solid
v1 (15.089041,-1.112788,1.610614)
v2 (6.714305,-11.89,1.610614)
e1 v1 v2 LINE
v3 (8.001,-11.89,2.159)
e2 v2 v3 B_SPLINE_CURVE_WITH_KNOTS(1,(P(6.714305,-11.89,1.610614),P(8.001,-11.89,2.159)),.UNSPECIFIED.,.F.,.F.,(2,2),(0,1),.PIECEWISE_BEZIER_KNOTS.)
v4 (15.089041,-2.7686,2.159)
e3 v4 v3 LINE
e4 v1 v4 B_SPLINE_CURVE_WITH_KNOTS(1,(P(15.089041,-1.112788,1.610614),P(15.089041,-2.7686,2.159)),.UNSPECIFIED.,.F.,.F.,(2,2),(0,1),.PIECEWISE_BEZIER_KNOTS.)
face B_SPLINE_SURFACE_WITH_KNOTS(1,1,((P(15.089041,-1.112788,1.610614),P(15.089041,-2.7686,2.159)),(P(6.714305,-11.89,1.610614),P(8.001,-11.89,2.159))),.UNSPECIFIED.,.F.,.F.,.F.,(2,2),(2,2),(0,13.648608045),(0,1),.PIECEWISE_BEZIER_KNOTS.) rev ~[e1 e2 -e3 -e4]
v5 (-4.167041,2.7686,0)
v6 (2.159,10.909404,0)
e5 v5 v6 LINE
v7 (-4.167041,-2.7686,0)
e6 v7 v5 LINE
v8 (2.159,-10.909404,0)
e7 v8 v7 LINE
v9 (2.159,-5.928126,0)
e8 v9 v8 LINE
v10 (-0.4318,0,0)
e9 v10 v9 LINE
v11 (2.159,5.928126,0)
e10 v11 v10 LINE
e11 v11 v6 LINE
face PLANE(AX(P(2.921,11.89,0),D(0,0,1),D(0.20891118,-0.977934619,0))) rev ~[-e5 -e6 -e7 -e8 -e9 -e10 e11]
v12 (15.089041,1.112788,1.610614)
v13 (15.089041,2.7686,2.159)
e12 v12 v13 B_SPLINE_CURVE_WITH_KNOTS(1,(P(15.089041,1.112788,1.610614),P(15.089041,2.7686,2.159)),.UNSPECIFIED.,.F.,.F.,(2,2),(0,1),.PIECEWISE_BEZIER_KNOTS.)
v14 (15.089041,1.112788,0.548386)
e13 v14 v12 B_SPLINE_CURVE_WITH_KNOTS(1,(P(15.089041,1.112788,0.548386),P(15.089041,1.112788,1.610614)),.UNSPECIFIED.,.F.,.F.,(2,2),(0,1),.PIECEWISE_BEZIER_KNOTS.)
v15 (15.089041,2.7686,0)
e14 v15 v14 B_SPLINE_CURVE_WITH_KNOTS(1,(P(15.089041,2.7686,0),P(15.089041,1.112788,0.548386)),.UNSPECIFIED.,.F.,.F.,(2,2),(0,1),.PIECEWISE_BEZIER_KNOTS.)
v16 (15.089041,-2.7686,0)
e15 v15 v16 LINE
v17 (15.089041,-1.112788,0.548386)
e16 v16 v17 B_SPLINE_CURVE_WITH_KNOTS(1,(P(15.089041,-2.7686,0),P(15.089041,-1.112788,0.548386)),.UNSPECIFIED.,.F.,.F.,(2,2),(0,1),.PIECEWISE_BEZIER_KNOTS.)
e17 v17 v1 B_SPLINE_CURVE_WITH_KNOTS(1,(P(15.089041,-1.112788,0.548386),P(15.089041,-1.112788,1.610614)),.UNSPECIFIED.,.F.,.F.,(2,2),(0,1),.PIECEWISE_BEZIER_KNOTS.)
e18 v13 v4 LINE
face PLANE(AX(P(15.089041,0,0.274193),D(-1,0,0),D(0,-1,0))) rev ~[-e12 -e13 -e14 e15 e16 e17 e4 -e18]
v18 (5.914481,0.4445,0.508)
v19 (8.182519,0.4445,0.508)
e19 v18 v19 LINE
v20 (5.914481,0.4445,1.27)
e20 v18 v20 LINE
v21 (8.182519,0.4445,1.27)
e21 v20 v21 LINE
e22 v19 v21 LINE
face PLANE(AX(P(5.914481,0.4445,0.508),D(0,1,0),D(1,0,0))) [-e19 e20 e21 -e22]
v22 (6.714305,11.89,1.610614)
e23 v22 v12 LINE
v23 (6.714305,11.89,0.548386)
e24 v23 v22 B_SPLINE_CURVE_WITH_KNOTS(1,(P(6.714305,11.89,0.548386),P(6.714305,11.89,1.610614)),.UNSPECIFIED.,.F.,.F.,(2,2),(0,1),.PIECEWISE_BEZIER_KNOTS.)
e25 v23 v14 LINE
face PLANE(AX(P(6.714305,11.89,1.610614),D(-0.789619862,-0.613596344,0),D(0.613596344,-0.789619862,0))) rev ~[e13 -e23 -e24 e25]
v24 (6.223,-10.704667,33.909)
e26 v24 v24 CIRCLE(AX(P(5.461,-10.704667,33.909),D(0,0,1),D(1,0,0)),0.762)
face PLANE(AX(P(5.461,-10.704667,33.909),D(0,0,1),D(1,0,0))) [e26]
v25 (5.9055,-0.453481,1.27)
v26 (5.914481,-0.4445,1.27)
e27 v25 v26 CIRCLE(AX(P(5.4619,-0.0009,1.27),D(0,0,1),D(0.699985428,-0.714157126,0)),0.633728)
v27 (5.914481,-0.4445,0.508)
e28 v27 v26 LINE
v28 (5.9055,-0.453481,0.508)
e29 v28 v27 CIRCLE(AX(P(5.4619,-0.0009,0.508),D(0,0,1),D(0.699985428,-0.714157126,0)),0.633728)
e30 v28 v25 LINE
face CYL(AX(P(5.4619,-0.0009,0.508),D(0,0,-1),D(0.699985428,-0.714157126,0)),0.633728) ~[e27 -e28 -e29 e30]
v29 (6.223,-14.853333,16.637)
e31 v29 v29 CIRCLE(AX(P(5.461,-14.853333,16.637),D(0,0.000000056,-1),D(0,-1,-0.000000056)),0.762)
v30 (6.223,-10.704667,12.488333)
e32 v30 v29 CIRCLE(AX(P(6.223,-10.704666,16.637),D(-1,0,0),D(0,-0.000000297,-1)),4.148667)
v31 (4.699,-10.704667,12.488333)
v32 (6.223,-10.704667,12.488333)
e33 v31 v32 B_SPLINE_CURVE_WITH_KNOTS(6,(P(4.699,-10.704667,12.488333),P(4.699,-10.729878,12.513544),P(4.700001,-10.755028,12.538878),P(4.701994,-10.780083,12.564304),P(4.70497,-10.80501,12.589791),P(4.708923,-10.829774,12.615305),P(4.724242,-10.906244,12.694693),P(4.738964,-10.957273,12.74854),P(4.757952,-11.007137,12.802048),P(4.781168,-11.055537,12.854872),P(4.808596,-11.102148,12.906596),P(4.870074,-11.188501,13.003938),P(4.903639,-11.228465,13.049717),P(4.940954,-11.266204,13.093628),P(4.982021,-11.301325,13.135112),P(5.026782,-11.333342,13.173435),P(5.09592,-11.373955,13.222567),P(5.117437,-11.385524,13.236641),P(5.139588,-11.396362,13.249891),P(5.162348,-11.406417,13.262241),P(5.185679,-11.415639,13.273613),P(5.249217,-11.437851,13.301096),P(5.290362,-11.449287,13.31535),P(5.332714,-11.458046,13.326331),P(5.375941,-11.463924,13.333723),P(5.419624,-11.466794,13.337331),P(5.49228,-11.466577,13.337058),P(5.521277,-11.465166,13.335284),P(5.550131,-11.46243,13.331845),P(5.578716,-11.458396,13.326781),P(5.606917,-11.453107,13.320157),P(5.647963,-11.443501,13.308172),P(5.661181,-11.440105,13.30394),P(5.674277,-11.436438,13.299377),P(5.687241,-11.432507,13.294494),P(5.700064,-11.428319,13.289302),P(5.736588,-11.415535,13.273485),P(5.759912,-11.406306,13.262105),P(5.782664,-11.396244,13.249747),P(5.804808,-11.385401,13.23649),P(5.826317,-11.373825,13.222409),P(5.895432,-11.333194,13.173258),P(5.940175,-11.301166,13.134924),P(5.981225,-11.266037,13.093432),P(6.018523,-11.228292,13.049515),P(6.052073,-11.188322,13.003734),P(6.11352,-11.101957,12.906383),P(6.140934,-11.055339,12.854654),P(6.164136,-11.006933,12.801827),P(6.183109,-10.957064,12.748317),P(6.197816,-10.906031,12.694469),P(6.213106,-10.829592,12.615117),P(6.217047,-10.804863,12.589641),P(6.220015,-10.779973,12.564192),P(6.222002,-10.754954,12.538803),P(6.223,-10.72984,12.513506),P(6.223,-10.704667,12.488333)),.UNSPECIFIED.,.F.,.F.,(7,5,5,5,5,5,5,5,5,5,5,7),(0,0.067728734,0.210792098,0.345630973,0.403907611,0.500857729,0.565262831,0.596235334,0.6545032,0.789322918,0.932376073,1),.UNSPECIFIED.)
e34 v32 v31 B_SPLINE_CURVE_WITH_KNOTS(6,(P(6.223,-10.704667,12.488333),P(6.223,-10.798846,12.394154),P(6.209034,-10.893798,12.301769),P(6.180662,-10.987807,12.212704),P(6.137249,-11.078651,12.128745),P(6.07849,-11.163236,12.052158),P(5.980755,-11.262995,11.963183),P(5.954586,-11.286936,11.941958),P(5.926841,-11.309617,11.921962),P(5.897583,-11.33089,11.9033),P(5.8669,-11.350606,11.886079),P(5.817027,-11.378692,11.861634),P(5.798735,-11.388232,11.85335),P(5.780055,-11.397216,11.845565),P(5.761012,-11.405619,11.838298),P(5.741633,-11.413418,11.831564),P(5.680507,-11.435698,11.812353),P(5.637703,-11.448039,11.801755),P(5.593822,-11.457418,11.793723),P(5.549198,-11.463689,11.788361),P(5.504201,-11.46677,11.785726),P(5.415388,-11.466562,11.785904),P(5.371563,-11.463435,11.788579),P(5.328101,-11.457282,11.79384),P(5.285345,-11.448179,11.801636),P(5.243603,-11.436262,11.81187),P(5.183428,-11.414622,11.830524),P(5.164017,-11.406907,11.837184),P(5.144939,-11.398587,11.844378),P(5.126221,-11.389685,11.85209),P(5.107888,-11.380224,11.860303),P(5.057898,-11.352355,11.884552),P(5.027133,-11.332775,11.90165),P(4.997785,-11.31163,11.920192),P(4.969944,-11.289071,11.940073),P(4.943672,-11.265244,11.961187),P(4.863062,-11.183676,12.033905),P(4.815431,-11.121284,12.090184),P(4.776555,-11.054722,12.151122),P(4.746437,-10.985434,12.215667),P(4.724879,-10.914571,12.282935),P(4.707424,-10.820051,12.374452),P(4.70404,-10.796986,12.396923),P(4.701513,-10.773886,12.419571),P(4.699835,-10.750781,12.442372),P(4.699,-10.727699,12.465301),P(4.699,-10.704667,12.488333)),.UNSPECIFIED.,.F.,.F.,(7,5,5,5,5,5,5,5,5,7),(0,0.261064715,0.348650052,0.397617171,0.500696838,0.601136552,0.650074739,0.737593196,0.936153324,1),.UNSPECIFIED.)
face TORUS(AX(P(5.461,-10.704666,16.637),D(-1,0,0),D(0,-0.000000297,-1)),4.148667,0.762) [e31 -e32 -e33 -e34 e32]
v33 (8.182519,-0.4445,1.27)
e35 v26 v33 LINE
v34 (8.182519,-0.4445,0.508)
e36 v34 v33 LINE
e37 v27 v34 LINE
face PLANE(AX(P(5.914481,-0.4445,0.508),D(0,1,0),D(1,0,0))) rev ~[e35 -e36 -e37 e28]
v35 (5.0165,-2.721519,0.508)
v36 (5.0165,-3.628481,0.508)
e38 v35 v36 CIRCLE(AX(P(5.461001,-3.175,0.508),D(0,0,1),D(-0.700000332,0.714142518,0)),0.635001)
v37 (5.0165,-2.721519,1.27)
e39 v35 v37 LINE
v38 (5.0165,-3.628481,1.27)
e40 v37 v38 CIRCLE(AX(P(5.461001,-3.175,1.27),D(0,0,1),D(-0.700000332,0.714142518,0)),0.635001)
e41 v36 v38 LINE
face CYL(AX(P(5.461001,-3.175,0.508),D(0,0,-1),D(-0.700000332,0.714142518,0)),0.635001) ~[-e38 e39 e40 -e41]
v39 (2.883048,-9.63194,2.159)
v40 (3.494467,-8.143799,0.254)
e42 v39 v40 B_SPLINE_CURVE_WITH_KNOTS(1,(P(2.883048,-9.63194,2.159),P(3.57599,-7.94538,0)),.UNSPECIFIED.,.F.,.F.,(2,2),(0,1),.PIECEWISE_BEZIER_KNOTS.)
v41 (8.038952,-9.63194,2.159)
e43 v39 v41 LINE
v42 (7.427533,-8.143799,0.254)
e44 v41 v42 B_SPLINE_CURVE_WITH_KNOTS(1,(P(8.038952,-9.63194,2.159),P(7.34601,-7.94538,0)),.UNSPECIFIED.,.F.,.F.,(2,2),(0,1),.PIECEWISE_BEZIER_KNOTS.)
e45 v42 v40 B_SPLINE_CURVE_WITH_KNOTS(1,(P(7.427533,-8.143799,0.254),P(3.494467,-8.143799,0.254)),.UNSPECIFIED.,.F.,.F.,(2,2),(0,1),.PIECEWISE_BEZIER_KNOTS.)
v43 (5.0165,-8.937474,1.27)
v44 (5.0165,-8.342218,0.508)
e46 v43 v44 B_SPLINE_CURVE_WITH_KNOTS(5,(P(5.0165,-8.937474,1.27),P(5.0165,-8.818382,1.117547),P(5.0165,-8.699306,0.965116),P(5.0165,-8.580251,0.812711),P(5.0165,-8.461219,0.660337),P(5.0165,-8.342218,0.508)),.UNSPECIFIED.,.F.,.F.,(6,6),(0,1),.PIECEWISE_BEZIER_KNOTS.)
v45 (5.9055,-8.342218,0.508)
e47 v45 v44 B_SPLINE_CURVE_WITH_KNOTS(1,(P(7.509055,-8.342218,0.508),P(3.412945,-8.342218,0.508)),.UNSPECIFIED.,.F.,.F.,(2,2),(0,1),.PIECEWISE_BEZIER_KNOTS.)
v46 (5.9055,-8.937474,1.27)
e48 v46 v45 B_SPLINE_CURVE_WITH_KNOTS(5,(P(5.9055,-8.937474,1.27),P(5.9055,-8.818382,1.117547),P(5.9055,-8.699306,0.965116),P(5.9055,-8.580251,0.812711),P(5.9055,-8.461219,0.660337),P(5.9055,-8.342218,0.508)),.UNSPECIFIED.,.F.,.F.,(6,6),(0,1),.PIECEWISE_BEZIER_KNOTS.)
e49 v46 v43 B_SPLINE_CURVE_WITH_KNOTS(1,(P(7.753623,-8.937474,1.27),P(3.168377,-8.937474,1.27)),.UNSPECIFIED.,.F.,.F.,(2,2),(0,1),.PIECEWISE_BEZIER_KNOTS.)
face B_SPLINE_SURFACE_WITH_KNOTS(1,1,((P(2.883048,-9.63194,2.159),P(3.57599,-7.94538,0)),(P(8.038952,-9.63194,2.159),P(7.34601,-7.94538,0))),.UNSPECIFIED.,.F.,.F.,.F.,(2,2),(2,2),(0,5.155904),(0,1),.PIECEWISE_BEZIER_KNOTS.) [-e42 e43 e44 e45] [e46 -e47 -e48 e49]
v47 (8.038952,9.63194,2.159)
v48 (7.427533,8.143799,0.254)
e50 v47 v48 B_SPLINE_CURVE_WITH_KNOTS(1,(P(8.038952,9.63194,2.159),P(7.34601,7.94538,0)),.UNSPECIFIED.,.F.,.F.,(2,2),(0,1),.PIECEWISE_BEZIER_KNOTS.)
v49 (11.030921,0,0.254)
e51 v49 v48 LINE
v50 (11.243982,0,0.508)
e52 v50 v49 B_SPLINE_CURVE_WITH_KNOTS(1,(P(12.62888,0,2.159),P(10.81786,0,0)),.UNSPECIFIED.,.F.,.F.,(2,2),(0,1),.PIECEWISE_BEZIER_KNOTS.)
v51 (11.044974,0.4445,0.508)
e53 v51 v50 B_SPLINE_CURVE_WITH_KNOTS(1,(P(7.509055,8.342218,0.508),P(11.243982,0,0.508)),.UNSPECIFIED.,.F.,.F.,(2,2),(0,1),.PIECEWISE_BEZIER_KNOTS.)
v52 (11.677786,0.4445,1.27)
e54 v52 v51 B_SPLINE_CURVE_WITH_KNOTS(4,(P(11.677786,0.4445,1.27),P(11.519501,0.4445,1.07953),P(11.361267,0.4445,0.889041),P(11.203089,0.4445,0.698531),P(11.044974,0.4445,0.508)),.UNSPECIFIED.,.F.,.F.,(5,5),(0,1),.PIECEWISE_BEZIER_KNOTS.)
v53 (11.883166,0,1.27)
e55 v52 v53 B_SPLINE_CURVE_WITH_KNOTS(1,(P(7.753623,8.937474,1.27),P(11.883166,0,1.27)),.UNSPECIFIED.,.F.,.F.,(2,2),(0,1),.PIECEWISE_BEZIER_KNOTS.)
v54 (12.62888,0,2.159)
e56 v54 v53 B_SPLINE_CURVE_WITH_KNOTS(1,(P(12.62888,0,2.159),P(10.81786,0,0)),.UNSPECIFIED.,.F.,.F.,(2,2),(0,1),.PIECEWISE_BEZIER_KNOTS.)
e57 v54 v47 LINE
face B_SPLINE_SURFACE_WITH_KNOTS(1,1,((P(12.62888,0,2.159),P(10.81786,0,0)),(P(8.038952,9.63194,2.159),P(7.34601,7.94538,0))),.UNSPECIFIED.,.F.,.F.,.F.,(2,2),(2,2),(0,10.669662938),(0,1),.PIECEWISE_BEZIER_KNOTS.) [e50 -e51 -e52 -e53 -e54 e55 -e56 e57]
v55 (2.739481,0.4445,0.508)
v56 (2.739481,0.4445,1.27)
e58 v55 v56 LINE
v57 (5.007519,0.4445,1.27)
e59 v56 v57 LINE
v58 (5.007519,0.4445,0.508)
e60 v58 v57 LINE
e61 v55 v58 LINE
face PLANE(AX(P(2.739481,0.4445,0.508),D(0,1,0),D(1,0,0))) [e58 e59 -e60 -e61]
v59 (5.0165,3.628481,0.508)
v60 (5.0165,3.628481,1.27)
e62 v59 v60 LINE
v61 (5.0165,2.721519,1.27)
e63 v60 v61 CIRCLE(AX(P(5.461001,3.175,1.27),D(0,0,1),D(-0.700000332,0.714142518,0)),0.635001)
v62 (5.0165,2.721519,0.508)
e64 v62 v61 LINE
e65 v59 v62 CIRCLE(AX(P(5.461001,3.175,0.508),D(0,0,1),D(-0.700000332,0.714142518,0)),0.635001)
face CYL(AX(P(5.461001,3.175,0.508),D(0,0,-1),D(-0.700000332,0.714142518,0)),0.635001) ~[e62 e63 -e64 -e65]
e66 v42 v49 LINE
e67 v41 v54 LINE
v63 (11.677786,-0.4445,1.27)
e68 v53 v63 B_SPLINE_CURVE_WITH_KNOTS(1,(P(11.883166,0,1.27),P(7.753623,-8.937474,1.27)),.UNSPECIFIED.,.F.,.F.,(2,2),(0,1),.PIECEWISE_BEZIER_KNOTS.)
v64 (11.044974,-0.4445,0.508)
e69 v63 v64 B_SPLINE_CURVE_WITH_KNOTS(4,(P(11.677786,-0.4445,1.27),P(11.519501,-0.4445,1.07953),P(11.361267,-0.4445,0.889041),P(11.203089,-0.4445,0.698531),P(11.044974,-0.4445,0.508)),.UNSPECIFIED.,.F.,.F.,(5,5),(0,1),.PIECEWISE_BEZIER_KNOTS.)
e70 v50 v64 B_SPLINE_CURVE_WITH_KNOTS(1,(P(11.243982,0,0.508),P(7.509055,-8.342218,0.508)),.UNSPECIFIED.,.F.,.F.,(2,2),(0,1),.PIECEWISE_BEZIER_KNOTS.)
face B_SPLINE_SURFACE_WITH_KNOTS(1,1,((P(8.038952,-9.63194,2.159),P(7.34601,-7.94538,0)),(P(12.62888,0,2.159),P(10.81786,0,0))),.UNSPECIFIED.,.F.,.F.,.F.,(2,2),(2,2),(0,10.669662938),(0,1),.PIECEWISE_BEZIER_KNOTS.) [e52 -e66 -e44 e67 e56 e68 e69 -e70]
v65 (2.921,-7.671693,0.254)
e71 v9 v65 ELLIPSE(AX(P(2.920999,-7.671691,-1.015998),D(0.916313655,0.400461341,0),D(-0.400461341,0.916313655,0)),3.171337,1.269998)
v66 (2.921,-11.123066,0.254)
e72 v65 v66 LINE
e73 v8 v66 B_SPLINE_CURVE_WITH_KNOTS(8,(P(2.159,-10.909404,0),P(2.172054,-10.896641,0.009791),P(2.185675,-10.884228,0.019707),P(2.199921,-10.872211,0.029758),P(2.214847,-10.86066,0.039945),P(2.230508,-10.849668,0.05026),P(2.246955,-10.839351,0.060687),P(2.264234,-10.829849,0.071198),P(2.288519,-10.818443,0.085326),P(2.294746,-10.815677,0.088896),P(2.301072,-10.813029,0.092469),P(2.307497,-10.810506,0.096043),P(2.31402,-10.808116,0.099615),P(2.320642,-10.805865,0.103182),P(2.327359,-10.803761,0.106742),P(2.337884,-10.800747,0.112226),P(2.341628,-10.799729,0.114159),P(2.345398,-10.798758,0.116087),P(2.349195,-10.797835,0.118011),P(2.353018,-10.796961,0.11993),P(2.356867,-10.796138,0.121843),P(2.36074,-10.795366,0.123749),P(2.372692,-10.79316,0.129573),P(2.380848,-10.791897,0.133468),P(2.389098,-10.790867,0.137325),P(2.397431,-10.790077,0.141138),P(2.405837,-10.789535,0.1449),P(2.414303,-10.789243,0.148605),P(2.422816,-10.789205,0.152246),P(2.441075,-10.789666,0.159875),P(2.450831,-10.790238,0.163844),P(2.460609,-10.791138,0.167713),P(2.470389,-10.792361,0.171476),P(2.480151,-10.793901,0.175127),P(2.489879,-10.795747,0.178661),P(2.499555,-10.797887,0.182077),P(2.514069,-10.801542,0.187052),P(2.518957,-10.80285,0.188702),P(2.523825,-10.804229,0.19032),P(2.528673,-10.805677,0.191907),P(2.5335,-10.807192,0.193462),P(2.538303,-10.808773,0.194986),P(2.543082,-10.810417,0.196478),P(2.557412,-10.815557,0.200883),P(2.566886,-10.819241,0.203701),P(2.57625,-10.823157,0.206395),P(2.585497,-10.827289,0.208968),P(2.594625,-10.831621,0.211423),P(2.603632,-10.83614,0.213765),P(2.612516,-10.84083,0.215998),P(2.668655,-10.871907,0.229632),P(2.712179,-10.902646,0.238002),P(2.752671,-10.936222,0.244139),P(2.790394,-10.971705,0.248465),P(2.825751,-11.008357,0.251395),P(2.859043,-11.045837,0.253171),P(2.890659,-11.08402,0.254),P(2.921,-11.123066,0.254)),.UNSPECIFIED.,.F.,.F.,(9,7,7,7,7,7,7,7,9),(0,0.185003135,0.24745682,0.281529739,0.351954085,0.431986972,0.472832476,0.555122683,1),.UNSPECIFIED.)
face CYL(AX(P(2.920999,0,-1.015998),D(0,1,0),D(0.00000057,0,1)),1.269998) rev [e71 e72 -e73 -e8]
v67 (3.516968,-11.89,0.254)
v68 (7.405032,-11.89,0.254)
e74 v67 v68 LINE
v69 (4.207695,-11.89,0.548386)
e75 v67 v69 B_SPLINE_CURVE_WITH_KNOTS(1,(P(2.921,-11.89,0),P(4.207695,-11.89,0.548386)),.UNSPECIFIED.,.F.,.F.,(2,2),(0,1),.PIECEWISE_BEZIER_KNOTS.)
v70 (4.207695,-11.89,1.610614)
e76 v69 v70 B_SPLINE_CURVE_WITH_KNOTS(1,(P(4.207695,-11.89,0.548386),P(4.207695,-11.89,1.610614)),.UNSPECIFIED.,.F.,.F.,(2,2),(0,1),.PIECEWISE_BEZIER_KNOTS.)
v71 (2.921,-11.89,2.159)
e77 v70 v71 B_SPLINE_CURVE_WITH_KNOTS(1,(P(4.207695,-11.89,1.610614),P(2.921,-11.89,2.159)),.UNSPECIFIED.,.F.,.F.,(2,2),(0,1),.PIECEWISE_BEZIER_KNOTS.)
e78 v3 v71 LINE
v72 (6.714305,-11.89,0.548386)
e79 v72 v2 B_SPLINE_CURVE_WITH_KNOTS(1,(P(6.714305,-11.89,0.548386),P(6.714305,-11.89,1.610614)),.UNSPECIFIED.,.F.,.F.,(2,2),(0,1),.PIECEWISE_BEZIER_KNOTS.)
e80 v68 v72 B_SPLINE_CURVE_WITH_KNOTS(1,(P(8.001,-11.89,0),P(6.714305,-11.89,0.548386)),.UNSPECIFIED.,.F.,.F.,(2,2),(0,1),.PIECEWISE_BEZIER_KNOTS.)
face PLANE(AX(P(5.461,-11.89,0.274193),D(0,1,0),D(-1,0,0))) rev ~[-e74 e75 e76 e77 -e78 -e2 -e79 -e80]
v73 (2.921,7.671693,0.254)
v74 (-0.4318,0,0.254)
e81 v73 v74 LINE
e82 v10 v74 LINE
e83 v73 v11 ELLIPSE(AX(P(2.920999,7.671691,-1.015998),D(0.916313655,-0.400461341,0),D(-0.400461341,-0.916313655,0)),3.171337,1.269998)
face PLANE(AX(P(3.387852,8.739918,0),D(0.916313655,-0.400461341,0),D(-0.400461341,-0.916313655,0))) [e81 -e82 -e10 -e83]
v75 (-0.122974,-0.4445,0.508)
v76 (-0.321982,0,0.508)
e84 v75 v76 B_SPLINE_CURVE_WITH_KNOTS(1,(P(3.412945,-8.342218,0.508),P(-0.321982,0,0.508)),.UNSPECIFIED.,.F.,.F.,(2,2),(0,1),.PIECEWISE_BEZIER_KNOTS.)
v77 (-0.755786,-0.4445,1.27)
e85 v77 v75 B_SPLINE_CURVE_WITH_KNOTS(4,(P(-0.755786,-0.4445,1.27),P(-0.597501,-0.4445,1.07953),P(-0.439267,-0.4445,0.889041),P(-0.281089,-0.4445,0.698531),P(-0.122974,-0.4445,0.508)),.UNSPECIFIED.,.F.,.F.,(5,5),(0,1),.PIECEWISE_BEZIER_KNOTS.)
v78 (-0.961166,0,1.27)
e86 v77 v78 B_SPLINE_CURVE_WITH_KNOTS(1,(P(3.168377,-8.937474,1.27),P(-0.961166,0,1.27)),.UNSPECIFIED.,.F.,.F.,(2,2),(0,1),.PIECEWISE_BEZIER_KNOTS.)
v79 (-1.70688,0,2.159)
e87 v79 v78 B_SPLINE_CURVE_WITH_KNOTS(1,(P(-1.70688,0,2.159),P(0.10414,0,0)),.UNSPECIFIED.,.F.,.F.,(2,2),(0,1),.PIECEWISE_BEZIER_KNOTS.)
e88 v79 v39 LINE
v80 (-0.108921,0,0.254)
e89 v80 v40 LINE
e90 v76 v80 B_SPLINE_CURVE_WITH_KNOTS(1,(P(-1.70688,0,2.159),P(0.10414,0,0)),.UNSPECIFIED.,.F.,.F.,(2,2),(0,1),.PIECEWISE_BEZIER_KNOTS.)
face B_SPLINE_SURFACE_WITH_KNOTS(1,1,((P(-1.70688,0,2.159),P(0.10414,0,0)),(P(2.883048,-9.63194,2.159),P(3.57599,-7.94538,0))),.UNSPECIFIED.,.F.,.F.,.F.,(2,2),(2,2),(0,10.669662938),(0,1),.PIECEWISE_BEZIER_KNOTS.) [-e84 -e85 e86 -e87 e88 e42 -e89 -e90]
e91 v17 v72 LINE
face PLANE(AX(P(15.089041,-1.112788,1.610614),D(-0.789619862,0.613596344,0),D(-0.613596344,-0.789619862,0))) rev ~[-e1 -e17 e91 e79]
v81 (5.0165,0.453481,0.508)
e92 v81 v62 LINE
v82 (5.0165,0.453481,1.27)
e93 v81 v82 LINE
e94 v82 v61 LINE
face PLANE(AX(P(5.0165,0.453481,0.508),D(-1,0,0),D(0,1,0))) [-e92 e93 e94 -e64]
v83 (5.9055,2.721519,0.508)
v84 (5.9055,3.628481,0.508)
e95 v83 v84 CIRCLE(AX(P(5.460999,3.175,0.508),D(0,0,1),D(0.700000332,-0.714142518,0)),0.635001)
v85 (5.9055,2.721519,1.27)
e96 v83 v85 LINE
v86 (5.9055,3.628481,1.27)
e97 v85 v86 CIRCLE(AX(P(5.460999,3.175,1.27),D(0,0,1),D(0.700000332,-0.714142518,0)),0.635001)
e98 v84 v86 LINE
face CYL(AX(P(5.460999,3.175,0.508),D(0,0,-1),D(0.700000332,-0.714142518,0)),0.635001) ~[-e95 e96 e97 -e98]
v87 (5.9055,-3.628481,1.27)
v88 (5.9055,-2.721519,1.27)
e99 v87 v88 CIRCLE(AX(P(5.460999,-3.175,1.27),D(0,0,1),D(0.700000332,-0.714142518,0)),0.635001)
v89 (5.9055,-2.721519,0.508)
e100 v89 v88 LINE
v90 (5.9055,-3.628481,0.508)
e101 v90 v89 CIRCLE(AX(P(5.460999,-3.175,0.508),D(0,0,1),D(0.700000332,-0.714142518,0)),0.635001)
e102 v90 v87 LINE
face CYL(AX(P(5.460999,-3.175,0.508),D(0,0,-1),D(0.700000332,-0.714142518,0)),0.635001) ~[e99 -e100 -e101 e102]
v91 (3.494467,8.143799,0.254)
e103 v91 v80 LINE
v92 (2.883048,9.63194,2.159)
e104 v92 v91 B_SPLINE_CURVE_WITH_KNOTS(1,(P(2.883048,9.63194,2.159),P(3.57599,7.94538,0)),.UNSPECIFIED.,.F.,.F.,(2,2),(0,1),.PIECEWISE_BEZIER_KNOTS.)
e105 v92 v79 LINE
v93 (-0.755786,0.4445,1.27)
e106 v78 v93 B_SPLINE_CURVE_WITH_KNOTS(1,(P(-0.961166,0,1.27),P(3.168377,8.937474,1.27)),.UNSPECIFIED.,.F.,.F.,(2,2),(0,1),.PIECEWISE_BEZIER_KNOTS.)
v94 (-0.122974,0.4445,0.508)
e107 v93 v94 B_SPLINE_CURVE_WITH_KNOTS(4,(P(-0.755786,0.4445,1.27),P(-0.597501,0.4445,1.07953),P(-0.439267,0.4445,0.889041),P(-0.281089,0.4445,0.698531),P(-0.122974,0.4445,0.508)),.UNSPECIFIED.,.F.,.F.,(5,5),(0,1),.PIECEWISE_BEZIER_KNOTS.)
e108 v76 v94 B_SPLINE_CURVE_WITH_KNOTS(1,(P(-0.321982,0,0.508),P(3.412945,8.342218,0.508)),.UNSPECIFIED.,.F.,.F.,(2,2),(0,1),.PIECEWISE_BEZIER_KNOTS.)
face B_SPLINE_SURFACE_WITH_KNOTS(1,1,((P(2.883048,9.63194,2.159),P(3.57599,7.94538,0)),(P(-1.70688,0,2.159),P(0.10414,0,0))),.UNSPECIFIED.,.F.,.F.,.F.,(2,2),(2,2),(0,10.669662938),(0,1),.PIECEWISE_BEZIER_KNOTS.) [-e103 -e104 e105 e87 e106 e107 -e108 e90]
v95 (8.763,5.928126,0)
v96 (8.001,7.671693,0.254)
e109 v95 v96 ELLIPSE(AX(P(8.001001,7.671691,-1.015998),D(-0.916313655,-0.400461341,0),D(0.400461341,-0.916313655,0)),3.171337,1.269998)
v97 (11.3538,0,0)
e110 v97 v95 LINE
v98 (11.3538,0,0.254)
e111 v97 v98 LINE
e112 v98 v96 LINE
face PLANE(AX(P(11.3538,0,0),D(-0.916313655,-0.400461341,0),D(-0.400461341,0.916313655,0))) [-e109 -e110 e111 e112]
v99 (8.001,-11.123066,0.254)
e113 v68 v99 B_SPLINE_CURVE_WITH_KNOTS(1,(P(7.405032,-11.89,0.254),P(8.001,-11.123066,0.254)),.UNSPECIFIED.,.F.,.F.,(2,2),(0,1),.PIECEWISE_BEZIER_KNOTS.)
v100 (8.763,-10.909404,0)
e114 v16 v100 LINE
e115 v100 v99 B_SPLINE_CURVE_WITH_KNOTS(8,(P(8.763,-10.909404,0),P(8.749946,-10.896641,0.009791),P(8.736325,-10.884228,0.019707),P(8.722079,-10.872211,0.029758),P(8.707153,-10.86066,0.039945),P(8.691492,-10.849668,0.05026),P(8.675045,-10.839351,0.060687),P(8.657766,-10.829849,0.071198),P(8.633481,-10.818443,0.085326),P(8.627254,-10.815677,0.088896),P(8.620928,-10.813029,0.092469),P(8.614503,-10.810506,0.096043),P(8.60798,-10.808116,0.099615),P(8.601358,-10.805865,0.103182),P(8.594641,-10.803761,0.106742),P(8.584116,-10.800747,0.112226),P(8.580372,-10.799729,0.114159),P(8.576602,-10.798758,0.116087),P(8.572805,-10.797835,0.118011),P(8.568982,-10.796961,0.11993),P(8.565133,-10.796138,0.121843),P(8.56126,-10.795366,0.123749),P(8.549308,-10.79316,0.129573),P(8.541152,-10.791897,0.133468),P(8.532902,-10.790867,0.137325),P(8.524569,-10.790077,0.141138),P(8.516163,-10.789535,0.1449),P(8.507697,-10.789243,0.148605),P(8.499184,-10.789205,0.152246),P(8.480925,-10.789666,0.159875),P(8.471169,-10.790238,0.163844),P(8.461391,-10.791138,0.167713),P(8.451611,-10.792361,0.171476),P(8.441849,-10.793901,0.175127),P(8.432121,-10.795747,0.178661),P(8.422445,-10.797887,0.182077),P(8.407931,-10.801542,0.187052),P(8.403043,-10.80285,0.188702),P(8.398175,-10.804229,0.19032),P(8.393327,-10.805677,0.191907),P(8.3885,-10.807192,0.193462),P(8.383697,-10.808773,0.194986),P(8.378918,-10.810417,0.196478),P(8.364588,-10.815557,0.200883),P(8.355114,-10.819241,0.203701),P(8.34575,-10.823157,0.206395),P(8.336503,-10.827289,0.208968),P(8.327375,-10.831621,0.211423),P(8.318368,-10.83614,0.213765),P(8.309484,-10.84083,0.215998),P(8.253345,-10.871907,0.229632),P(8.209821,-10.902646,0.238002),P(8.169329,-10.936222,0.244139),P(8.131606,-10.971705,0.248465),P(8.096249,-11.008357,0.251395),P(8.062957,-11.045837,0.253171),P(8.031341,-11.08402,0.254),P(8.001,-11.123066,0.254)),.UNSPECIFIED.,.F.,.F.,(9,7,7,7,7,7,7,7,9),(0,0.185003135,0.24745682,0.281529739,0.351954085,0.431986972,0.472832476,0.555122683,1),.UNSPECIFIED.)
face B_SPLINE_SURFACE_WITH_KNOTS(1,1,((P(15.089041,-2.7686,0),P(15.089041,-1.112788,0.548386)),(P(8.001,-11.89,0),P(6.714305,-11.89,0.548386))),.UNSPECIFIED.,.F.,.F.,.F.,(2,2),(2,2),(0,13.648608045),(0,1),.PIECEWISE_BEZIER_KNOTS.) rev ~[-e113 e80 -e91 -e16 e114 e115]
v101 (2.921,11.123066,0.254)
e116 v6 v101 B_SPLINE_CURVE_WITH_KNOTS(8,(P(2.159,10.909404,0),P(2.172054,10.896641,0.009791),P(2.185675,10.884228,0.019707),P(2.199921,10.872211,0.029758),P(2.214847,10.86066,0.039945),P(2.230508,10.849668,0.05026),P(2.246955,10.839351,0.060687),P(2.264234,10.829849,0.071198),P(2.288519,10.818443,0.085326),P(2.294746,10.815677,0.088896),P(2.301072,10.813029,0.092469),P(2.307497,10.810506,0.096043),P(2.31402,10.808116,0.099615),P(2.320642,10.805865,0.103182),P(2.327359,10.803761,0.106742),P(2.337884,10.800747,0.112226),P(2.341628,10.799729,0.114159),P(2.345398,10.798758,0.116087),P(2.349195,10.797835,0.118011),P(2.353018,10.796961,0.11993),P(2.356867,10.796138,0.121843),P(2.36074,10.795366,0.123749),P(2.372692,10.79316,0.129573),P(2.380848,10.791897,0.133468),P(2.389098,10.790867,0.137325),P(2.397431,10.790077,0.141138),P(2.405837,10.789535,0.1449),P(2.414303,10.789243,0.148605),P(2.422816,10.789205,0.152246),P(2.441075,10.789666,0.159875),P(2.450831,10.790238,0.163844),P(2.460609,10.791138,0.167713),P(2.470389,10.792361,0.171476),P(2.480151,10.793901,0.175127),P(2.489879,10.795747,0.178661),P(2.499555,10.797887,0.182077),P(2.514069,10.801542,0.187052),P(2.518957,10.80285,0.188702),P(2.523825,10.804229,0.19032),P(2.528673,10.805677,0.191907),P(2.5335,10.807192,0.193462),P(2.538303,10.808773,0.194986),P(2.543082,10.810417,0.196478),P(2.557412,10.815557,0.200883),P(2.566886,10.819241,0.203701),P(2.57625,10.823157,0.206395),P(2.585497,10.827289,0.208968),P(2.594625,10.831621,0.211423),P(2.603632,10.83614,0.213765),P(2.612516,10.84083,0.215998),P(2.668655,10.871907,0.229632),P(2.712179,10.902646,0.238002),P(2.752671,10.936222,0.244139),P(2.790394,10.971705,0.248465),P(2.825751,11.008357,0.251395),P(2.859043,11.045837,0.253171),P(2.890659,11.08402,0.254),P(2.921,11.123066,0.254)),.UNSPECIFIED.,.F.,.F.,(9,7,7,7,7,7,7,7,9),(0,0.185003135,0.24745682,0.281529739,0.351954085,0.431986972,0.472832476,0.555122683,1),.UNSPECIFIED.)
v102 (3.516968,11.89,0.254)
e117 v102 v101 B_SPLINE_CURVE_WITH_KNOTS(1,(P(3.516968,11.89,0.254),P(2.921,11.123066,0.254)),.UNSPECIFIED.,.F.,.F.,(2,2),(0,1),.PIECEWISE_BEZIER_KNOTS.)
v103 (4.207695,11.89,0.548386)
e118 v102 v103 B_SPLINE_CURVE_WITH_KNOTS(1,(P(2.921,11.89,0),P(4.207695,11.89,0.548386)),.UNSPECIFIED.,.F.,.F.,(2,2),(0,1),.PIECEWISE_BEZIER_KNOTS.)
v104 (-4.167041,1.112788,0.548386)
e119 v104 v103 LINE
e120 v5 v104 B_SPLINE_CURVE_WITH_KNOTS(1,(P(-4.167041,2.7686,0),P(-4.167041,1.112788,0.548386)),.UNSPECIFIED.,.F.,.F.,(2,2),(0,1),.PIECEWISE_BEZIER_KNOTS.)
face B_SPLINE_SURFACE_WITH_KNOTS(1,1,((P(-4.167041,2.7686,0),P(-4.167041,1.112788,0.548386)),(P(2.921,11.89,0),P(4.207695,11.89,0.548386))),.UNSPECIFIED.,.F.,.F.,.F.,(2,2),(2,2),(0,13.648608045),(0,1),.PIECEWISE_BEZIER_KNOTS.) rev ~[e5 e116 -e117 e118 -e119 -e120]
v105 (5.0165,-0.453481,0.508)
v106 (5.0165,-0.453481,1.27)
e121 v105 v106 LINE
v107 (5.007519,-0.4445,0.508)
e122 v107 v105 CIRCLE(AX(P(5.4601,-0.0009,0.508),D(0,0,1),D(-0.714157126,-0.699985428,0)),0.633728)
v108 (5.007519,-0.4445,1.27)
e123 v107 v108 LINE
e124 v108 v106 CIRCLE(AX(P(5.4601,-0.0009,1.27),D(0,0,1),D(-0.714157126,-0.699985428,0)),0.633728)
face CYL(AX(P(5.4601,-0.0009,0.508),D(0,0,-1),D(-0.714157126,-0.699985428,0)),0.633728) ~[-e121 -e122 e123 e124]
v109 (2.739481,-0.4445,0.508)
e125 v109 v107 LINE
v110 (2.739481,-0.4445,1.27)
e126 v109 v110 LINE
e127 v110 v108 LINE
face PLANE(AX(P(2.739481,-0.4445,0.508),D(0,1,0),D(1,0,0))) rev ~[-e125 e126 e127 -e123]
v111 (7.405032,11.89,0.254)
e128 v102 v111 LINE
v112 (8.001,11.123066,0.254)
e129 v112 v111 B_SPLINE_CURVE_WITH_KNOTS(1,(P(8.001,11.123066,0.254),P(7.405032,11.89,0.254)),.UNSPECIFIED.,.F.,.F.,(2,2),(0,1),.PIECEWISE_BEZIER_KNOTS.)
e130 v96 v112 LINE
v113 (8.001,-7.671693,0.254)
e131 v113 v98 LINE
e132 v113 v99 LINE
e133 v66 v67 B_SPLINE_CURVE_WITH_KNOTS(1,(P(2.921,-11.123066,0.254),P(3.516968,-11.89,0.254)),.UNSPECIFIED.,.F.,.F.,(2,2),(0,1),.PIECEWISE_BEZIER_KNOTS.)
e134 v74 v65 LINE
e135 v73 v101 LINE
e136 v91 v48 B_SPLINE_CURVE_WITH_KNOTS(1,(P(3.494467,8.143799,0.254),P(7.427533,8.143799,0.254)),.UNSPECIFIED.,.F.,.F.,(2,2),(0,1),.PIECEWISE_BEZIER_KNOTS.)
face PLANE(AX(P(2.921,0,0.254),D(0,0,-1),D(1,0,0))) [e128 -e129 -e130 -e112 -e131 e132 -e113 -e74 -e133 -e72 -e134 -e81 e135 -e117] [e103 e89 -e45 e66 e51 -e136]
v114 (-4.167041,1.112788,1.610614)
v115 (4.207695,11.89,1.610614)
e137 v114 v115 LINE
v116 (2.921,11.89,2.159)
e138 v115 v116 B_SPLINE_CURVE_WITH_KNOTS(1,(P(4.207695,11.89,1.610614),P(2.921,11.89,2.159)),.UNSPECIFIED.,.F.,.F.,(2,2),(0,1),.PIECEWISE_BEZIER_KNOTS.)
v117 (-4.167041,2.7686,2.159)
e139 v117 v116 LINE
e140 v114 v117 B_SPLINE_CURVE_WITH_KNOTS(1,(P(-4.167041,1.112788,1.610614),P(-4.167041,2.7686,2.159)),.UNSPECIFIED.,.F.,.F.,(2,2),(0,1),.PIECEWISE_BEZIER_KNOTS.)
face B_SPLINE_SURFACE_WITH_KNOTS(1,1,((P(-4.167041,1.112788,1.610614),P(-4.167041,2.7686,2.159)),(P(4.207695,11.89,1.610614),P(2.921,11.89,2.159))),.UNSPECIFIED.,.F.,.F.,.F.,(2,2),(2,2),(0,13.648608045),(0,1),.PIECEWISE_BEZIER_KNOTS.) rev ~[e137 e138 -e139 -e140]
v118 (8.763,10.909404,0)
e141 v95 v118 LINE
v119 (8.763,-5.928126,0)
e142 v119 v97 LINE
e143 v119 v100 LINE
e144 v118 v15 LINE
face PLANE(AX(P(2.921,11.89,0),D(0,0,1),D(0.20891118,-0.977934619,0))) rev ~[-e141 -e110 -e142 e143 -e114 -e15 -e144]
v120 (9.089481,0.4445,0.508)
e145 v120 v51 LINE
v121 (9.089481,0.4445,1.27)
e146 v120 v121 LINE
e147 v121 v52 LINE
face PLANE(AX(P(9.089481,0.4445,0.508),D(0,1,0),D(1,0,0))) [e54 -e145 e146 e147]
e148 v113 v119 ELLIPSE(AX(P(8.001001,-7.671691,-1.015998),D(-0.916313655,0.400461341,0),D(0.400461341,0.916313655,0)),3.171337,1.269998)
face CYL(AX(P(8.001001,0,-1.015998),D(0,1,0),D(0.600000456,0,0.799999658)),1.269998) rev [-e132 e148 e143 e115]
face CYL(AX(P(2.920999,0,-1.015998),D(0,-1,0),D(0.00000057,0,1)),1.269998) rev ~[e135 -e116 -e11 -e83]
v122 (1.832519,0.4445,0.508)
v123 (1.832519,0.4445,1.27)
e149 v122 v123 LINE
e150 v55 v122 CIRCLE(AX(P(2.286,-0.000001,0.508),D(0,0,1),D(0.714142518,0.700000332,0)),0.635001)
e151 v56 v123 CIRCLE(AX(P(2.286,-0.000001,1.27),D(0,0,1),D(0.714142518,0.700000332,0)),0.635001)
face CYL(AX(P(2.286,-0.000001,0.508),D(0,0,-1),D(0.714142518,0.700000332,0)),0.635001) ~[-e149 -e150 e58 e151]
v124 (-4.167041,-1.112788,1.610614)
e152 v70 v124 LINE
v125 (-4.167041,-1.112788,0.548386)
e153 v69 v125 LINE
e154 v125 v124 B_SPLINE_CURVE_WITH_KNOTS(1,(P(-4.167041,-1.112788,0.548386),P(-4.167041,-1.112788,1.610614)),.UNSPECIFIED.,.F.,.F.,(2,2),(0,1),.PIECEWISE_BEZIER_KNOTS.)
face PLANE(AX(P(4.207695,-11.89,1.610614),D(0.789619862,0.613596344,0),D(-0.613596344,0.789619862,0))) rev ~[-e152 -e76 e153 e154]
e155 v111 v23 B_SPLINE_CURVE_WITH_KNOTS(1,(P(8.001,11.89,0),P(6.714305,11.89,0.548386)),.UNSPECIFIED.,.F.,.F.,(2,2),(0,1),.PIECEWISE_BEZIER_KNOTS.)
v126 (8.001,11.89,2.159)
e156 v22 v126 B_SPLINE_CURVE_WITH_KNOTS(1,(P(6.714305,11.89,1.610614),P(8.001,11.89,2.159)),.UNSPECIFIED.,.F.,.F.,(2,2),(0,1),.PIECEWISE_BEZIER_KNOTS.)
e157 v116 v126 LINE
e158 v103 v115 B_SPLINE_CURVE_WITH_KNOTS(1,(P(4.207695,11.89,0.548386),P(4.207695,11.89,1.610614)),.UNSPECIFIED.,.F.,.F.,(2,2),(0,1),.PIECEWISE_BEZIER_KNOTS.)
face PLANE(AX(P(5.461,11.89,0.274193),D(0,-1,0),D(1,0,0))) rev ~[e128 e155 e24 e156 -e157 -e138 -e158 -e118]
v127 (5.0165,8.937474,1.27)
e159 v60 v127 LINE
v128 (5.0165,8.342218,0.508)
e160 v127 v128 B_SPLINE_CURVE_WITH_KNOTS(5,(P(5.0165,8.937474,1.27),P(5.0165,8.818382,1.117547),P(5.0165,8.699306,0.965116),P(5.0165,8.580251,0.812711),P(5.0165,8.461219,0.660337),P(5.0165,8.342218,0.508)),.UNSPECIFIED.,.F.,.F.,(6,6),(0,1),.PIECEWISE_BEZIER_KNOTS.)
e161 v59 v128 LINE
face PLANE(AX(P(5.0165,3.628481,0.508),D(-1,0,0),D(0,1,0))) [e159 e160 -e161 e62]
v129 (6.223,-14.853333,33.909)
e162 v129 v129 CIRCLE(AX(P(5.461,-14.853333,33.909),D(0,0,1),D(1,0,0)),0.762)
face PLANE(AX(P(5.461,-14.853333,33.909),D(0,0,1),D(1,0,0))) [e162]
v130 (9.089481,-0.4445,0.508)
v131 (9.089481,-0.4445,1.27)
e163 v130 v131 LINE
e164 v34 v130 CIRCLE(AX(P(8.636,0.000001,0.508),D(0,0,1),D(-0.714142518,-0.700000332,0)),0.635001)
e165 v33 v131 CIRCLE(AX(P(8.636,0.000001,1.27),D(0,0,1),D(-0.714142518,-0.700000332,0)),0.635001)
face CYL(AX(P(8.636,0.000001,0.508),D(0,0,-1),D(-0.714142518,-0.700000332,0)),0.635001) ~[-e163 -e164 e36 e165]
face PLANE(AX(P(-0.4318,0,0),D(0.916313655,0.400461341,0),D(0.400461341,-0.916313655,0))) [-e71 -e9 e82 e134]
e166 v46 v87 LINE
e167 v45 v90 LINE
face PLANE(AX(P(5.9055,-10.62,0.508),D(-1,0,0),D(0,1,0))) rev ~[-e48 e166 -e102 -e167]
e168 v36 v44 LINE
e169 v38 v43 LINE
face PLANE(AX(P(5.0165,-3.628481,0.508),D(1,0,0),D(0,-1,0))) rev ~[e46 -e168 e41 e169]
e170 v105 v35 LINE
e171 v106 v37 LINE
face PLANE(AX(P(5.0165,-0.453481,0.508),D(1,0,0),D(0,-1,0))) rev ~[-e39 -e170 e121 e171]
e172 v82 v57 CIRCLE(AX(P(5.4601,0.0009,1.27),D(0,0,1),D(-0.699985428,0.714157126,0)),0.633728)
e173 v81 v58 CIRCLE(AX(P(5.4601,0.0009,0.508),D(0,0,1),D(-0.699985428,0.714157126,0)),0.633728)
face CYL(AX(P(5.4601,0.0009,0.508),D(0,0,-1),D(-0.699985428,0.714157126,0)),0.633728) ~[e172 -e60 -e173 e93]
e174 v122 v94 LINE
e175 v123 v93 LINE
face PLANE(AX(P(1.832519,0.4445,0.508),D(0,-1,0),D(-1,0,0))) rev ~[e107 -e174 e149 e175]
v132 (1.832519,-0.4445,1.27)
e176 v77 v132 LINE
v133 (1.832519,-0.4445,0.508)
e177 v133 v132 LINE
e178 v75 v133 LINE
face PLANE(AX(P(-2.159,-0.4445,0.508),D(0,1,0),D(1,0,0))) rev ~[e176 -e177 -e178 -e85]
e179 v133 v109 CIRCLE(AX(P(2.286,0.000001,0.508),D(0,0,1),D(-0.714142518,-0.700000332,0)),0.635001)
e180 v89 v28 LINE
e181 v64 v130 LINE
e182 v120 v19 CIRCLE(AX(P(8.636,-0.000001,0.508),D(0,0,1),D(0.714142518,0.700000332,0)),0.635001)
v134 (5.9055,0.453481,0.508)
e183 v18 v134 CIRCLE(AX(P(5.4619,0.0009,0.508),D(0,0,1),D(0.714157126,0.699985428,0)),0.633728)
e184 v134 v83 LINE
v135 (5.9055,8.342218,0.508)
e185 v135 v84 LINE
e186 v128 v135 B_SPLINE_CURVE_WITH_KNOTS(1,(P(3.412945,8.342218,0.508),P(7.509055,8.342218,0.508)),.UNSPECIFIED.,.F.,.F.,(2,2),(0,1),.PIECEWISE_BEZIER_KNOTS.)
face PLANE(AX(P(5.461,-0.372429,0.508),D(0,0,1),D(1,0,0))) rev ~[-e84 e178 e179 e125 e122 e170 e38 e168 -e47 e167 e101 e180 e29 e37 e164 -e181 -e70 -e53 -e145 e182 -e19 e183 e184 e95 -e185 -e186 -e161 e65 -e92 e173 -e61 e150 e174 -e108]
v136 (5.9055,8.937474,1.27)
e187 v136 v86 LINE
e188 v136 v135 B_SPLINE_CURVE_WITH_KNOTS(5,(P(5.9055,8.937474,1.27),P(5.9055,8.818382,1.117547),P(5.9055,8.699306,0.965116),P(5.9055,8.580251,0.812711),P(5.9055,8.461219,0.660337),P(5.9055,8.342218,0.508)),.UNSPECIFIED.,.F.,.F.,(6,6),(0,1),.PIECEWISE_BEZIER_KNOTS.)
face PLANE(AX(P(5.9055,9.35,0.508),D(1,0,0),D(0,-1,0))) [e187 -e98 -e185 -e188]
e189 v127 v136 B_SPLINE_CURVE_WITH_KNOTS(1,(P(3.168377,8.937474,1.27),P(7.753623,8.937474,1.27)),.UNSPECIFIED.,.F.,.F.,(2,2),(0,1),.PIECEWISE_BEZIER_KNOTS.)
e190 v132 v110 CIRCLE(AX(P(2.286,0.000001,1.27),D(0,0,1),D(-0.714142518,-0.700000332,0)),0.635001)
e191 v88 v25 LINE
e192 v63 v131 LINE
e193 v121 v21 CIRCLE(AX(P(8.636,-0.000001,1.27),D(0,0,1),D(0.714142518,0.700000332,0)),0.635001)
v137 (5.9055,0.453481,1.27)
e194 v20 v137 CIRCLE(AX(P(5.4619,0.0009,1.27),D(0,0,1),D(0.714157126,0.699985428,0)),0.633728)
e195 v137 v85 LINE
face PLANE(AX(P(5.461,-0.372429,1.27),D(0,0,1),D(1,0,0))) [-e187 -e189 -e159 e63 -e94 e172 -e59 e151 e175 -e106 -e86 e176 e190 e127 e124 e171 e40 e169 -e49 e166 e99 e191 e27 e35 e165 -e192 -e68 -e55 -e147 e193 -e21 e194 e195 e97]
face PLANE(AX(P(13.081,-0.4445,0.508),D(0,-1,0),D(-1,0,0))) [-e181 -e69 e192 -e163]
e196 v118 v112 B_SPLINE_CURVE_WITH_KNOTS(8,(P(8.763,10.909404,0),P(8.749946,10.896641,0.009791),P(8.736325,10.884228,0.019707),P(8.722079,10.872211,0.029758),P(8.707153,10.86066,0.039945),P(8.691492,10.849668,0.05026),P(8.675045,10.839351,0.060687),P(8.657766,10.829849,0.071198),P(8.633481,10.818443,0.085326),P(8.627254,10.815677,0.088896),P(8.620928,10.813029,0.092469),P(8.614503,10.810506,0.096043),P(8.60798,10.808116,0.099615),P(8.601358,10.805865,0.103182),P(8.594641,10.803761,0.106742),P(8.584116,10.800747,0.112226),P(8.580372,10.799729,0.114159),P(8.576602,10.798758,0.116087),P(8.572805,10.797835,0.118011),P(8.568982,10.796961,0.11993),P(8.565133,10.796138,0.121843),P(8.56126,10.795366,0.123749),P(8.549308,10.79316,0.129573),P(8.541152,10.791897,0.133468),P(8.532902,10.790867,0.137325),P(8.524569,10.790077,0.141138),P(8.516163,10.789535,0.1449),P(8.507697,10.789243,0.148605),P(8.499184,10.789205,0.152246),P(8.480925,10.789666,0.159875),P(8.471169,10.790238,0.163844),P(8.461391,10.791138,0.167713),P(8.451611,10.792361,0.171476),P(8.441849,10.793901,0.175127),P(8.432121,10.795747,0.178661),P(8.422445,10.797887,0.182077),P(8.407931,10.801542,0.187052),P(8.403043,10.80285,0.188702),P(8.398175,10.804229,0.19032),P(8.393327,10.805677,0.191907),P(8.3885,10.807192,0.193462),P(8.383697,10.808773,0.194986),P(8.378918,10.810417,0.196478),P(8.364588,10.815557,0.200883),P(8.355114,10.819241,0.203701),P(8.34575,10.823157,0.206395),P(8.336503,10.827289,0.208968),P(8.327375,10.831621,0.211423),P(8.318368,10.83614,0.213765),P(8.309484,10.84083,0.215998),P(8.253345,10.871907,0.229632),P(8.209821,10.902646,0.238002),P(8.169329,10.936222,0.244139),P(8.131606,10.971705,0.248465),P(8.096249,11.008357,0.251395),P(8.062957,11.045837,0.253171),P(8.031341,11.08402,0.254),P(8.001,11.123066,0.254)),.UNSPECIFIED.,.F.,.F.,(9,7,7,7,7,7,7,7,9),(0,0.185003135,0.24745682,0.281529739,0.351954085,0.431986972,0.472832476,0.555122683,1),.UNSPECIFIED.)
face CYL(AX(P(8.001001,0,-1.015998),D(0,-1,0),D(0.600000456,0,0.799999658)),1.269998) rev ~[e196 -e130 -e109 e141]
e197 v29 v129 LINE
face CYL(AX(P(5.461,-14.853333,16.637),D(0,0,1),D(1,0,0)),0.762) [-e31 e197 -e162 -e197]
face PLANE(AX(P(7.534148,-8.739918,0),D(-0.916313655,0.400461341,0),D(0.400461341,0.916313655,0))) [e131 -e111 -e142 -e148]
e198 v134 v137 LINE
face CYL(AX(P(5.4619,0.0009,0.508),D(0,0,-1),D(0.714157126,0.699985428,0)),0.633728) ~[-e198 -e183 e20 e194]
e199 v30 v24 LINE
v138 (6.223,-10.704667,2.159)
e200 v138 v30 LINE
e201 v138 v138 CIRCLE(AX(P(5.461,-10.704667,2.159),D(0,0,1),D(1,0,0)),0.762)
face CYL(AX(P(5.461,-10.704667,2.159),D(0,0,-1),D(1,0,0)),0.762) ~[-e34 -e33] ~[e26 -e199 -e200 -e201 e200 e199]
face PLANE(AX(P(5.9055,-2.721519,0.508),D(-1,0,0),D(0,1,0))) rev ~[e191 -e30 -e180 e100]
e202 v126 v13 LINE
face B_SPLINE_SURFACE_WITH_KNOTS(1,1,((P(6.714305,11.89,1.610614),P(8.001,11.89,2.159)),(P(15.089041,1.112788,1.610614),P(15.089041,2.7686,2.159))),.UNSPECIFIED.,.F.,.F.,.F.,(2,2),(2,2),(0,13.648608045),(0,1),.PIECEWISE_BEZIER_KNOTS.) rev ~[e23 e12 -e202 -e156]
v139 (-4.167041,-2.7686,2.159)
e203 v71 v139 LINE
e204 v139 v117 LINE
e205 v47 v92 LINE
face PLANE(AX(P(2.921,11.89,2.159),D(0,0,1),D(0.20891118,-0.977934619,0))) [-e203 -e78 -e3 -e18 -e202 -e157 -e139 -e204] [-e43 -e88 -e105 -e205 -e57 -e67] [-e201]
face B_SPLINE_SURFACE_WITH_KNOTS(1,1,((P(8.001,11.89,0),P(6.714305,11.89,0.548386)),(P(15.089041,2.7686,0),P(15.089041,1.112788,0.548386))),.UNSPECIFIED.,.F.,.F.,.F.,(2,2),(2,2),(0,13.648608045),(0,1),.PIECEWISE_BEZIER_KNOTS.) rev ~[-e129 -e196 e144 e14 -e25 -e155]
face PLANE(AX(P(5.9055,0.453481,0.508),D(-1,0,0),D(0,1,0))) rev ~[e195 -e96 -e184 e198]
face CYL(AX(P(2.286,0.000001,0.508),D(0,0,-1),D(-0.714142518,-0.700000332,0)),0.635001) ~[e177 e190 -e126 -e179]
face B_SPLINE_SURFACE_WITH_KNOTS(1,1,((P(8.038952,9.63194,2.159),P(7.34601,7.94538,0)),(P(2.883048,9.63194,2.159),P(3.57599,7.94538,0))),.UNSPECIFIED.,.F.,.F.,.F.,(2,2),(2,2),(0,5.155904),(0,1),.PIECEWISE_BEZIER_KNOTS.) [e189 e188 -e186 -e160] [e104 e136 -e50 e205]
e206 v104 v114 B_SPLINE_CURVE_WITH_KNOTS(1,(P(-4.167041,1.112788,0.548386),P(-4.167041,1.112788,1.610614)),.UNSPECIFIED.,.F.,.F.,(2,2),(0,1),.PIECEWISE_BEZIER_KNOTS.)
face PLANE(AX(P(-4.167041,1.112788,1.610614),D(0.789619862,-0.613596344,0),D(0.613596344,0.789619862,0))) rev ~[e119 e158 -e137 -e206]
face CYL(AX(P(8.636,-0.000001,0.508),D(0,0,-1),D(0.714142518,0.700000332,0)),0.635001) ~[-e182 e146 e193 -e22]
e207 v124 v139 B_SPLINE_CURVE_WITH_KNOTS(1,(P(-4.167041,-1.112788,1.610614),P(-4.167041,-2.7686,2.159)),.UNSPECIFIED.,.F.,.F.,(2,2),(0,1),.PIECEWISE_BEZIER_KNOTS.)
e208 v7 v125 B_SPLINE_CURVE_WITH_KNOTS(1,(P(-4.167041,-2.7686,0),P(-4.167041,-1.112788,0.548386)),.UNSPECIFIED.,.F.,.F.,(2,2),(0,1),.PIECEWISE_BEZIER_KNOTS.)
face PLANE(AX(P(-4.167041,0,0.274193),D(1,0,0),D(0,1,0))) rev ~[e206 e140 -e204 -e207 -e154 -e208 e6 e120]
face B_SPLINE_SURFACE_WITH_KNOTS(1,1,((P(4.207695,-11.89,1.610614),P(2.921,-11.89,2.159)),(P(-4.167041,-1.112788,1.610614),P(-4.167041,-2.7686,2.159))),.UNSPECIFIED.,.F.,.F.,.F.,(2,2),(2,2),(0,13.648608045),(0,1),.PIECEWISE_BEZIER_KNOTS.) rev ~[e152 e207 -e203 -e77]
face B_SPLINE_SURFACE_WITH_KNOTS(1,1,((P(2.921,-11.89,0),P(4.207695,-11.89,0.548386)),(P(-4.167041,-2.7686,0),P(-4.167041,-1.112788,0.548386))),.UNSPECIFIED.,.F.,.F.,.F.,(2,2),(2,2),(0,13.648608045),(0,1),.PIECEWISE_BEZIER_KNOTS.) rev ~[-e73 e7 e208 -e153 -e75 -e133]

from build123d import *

# Parameters (mm, degrees)
POCKET_DEPTH         = 0.254
POCKET002_DEPTH      = 11.891
POCKET002_DEPTH_BACK = 11.891
PAD_DEPTH            = 0.762
SKETCH025_R          = 0.762
PAD001_DEPTH         = 31.75
SKETCH040_R          = 0.762


with BuildPart() as part:
    # Sketch → AdditiveLoft section 0
    with BuildSketch(Plane.XY):
        Polygon((-2.54, 11.89), (2.54, 11.89), (9.628041, 2.7686), (9.628041, -2.7686), (2.54, -11.89), (-2.54, -11.89), (-9.628041, -2.7686), (-9.628041, 2.7686), align=None)
    # Sketch028 → AdditiveLoft section 1
    with BuildSketch(Plane.XY.offset(0.548386)):
        Polygon((-9.628041, 1.112788), (-1.253305, 11.89), (1.253305, 11.89), (9.628041, 1.112788), (9.628041, -1.112788), (1.253305, -11.89), (-1.253305, -11.89), (-9.628041, -1.112788), align=None)
    # Sketch029 → AdditiveLoft section 2
    with BuildSketch(Plane.XY.offset(1.610614)):
        Polygon((-9.628041, 1.112788), (-1.253305, 11.89), (1.253305, 11.89), (9.628041, 1.112788), (9.628041, -1.112788), (1.253305, -11.89), (-1.253305, -11.89), (-9.628041, -1.112788), align=None)
    # Sketch019 → AdditiveLoft section 3
    with BuildSketch(Plane.XY.offset(2.159)):
        Polygon((-2.54, 11.89), (2.54, 11.89), (9.628041, 2.7686), (9.628041, -2.7686), (2.54, -11.89), (-2.54, -11.89), (-9.628041, -2.7686), (-9.628041, 2.7686), align=None)
    loft(ruled=True)

    # Sketch013 → SubtractiveLoft section 0
    with BuildSketch(Plane.XY.offset(2.159)):
        Polygon((-7.16788, 0), (-2.577952, -9.63194), (2.577952, -9.63194), (7.16788, 0), (2.577952, 9.63194), (-2.577952, 9.63194), align=None)
    # Sketch014 → SubtractiveLoft section 1
    with BuildSketch(Plane(origin=(0, 0, 0), x_dir=(1, 0, 0), z_dir=(0, 0, -1))):
        Polygon((-5.35686, 0), (-1.88501, 7.94538), (1.88501, 7.94538), (5.35686, 0), (1.88501, -7.94538), (-1.88501, -7.94538), align=None)
    loft(mode=Mode.SUBTRACT)

    # Sketch006 (on Face1 of SubtractiveLoft) → Pocket (cut)
    with BuildSketch(Plane(origin=(0, 0, 0), x_dir=(1, 0, 0), z_dir=(0, 0, -1))):
        Polygon((-5.8928, 0), (-2.073148, 8.739918), (2.073148, 8.739918), (5.8928, 0), (2.073148, -8.739918), (-2.073148, -8.739918), align=None)
    extrude(amount=-POCKET_DEPTH, mode=Mode.SUBTRACT)

    # Sketch022 → Pocket002 (cut, two sides)
    with BuildSketch(Plane.XZ) as pocket002_sk:
        with BuildLine():
            ThreePointArc((-2.54, 0.254), (-2.941609, 0.188828), (-3.302, 0))
            Line((-3.302, 0), (3.302, 0))
            ThreePointArc((3.302, 0), (2.941609, 0.188828), (2.54, 0.254))
            Line((-2.54, 0.254), (2.54, 0.254))
        make_face()
    extrude(amount=-POCKET002_DEPTH, mode=Mode.SUBTRACT)
    extrude(pocket002_sk.sketch, amount=POCKET002_DEPTH_BACK, mode=Mode.SUBTRACT)

    # Sketch018 → Pad (join)
    with BuildSketch(Plane.XY.offset(0.508)):
        with BuildLine():
            Line((-3.628481, 0.4445), (-7.62, 0.4445))
            Line((-7.62, 0.4445), (-7.62, -0.4445))
            Line((-7.62, -0.4445), (-3.628481, -0.4445))
            ThreePointArc((-3.628481, -0.4445), (-3.175, -0.635), (-2.721519, -0.4445))
            Line((-2.721519, -0.4445), (-0.453481, -0.4445))
            ThreePointArc((-0.453481, -0.4445), (-0.449013, -0.449013), (-0.4445, -0.453481))
            Line((-0.4445, -0.453481), (-0.4445, -2.721519))
            ThreePointArc((-0.4445, -2.721519), (-0.635, -3.175), (-0.4445, -3.628481))
            Line((-0.4445, -3.628481), (-0.4445, -10.62))
            Line((-0.4445, -10.62), (0.4445, -10.62))
            Line((0.4445, -10.62), (0.4445, -3.628481))
            ThreePointArc((0.4445, -3.628481), (0.635, -3.175), (0.4445, -2.721519))
            Line((0.4445, -2.721519), (0.4445, -0.453481))
            ThreePointArc((0.4445, -0.453481), (0.449013, -0.449013), (0.453481, -0.4445))
            Line((0.453481, -0.4445), (2.721519, -0.4445))
            ThreePointArc((2.721519, -0.4445), (3.175, -0.635), (3.628481, -0.4445))
            Line((7.62, -0.4445), (3.628481, -0.4445))
            Line((7.62, 0.4445), (7.62, -0.4445))
            Line((3.628481, 0.4445), (7.62, 0.4445))
            ThreePointArc((3.628481, 0.4445), (3.175, 0.635), (2.721519, 0.4445))
            Line((0.453481, 0.4445), (2.721519, 0.4445))
            ThreePointArc((0.453481, 0.4445), (0.449013, 0.449013), (0.4445, 0.453481))
            Line((0.4445, 0.453481), (0.4445, 2.721519))
            ThreePointArc((0.4445, 2.721519), (0.635, 3.175), (0.4445, 3.628481))
            Line((0.4445, 9.35), (0.4445, 3.628481))
            Line((-0.4445, 9.35), (0.4445, 9.35))
            Line((-0.4445, 3.628481), (-0.4445, 9.35))
            ThreePointArc((-0.4445, 3.628481), (-0.635, 3.175), (-0.4445, 2.721519))
            Line((-0.4445, 0.453481), (-0.4445, 2.721519))
            ThreePointArc((-0.4445, 0.453481), (-0.449013, 0.449013), (-0.453481, 0.4445))
            Line((-2.721519, 0.4445), (-0.453481, 0.4445))
            ThreePointArc((-2.721519, 0.4445), (-3.175, 0.635), (-3.628481, 0.4445))
        make_face()
    extrude(amount=PAD_DEPTH)

    # Sketch025 → Pad001 (join)
    with BuildSketch(Plane.XY.offset(2.159)):
        with Locations((0, -10.704667)):
            Circle(SKETCH025_R)
    extrude(amount=PAD001_DEPTH)

    # AdditivePipe: sweep along a path in Sketch037
    with BuildLine(Plane.YZ) as additivepipe_path:
        ThreePointArc((-10.704667, 12.488333), (-13.638217, 13.70345), (-14.853333, 16.637))
        Line((-14.853333, 16.637), (-14.853333, 33.909))
    # Sketch040 → AdditivePipe (sweep)
    with BuildSketch(Plane.XY.offset(33.909)):
        with Locations((0, -14.853333)):
            Circle(SKETCH040_R)
    sweep(path=additivepipe_path.line)


with BuildPart() as part_1:
    # Body placement: moved
    add(part.part.moved(Location((5.461, 0, 0))))


solid = part_1.part
